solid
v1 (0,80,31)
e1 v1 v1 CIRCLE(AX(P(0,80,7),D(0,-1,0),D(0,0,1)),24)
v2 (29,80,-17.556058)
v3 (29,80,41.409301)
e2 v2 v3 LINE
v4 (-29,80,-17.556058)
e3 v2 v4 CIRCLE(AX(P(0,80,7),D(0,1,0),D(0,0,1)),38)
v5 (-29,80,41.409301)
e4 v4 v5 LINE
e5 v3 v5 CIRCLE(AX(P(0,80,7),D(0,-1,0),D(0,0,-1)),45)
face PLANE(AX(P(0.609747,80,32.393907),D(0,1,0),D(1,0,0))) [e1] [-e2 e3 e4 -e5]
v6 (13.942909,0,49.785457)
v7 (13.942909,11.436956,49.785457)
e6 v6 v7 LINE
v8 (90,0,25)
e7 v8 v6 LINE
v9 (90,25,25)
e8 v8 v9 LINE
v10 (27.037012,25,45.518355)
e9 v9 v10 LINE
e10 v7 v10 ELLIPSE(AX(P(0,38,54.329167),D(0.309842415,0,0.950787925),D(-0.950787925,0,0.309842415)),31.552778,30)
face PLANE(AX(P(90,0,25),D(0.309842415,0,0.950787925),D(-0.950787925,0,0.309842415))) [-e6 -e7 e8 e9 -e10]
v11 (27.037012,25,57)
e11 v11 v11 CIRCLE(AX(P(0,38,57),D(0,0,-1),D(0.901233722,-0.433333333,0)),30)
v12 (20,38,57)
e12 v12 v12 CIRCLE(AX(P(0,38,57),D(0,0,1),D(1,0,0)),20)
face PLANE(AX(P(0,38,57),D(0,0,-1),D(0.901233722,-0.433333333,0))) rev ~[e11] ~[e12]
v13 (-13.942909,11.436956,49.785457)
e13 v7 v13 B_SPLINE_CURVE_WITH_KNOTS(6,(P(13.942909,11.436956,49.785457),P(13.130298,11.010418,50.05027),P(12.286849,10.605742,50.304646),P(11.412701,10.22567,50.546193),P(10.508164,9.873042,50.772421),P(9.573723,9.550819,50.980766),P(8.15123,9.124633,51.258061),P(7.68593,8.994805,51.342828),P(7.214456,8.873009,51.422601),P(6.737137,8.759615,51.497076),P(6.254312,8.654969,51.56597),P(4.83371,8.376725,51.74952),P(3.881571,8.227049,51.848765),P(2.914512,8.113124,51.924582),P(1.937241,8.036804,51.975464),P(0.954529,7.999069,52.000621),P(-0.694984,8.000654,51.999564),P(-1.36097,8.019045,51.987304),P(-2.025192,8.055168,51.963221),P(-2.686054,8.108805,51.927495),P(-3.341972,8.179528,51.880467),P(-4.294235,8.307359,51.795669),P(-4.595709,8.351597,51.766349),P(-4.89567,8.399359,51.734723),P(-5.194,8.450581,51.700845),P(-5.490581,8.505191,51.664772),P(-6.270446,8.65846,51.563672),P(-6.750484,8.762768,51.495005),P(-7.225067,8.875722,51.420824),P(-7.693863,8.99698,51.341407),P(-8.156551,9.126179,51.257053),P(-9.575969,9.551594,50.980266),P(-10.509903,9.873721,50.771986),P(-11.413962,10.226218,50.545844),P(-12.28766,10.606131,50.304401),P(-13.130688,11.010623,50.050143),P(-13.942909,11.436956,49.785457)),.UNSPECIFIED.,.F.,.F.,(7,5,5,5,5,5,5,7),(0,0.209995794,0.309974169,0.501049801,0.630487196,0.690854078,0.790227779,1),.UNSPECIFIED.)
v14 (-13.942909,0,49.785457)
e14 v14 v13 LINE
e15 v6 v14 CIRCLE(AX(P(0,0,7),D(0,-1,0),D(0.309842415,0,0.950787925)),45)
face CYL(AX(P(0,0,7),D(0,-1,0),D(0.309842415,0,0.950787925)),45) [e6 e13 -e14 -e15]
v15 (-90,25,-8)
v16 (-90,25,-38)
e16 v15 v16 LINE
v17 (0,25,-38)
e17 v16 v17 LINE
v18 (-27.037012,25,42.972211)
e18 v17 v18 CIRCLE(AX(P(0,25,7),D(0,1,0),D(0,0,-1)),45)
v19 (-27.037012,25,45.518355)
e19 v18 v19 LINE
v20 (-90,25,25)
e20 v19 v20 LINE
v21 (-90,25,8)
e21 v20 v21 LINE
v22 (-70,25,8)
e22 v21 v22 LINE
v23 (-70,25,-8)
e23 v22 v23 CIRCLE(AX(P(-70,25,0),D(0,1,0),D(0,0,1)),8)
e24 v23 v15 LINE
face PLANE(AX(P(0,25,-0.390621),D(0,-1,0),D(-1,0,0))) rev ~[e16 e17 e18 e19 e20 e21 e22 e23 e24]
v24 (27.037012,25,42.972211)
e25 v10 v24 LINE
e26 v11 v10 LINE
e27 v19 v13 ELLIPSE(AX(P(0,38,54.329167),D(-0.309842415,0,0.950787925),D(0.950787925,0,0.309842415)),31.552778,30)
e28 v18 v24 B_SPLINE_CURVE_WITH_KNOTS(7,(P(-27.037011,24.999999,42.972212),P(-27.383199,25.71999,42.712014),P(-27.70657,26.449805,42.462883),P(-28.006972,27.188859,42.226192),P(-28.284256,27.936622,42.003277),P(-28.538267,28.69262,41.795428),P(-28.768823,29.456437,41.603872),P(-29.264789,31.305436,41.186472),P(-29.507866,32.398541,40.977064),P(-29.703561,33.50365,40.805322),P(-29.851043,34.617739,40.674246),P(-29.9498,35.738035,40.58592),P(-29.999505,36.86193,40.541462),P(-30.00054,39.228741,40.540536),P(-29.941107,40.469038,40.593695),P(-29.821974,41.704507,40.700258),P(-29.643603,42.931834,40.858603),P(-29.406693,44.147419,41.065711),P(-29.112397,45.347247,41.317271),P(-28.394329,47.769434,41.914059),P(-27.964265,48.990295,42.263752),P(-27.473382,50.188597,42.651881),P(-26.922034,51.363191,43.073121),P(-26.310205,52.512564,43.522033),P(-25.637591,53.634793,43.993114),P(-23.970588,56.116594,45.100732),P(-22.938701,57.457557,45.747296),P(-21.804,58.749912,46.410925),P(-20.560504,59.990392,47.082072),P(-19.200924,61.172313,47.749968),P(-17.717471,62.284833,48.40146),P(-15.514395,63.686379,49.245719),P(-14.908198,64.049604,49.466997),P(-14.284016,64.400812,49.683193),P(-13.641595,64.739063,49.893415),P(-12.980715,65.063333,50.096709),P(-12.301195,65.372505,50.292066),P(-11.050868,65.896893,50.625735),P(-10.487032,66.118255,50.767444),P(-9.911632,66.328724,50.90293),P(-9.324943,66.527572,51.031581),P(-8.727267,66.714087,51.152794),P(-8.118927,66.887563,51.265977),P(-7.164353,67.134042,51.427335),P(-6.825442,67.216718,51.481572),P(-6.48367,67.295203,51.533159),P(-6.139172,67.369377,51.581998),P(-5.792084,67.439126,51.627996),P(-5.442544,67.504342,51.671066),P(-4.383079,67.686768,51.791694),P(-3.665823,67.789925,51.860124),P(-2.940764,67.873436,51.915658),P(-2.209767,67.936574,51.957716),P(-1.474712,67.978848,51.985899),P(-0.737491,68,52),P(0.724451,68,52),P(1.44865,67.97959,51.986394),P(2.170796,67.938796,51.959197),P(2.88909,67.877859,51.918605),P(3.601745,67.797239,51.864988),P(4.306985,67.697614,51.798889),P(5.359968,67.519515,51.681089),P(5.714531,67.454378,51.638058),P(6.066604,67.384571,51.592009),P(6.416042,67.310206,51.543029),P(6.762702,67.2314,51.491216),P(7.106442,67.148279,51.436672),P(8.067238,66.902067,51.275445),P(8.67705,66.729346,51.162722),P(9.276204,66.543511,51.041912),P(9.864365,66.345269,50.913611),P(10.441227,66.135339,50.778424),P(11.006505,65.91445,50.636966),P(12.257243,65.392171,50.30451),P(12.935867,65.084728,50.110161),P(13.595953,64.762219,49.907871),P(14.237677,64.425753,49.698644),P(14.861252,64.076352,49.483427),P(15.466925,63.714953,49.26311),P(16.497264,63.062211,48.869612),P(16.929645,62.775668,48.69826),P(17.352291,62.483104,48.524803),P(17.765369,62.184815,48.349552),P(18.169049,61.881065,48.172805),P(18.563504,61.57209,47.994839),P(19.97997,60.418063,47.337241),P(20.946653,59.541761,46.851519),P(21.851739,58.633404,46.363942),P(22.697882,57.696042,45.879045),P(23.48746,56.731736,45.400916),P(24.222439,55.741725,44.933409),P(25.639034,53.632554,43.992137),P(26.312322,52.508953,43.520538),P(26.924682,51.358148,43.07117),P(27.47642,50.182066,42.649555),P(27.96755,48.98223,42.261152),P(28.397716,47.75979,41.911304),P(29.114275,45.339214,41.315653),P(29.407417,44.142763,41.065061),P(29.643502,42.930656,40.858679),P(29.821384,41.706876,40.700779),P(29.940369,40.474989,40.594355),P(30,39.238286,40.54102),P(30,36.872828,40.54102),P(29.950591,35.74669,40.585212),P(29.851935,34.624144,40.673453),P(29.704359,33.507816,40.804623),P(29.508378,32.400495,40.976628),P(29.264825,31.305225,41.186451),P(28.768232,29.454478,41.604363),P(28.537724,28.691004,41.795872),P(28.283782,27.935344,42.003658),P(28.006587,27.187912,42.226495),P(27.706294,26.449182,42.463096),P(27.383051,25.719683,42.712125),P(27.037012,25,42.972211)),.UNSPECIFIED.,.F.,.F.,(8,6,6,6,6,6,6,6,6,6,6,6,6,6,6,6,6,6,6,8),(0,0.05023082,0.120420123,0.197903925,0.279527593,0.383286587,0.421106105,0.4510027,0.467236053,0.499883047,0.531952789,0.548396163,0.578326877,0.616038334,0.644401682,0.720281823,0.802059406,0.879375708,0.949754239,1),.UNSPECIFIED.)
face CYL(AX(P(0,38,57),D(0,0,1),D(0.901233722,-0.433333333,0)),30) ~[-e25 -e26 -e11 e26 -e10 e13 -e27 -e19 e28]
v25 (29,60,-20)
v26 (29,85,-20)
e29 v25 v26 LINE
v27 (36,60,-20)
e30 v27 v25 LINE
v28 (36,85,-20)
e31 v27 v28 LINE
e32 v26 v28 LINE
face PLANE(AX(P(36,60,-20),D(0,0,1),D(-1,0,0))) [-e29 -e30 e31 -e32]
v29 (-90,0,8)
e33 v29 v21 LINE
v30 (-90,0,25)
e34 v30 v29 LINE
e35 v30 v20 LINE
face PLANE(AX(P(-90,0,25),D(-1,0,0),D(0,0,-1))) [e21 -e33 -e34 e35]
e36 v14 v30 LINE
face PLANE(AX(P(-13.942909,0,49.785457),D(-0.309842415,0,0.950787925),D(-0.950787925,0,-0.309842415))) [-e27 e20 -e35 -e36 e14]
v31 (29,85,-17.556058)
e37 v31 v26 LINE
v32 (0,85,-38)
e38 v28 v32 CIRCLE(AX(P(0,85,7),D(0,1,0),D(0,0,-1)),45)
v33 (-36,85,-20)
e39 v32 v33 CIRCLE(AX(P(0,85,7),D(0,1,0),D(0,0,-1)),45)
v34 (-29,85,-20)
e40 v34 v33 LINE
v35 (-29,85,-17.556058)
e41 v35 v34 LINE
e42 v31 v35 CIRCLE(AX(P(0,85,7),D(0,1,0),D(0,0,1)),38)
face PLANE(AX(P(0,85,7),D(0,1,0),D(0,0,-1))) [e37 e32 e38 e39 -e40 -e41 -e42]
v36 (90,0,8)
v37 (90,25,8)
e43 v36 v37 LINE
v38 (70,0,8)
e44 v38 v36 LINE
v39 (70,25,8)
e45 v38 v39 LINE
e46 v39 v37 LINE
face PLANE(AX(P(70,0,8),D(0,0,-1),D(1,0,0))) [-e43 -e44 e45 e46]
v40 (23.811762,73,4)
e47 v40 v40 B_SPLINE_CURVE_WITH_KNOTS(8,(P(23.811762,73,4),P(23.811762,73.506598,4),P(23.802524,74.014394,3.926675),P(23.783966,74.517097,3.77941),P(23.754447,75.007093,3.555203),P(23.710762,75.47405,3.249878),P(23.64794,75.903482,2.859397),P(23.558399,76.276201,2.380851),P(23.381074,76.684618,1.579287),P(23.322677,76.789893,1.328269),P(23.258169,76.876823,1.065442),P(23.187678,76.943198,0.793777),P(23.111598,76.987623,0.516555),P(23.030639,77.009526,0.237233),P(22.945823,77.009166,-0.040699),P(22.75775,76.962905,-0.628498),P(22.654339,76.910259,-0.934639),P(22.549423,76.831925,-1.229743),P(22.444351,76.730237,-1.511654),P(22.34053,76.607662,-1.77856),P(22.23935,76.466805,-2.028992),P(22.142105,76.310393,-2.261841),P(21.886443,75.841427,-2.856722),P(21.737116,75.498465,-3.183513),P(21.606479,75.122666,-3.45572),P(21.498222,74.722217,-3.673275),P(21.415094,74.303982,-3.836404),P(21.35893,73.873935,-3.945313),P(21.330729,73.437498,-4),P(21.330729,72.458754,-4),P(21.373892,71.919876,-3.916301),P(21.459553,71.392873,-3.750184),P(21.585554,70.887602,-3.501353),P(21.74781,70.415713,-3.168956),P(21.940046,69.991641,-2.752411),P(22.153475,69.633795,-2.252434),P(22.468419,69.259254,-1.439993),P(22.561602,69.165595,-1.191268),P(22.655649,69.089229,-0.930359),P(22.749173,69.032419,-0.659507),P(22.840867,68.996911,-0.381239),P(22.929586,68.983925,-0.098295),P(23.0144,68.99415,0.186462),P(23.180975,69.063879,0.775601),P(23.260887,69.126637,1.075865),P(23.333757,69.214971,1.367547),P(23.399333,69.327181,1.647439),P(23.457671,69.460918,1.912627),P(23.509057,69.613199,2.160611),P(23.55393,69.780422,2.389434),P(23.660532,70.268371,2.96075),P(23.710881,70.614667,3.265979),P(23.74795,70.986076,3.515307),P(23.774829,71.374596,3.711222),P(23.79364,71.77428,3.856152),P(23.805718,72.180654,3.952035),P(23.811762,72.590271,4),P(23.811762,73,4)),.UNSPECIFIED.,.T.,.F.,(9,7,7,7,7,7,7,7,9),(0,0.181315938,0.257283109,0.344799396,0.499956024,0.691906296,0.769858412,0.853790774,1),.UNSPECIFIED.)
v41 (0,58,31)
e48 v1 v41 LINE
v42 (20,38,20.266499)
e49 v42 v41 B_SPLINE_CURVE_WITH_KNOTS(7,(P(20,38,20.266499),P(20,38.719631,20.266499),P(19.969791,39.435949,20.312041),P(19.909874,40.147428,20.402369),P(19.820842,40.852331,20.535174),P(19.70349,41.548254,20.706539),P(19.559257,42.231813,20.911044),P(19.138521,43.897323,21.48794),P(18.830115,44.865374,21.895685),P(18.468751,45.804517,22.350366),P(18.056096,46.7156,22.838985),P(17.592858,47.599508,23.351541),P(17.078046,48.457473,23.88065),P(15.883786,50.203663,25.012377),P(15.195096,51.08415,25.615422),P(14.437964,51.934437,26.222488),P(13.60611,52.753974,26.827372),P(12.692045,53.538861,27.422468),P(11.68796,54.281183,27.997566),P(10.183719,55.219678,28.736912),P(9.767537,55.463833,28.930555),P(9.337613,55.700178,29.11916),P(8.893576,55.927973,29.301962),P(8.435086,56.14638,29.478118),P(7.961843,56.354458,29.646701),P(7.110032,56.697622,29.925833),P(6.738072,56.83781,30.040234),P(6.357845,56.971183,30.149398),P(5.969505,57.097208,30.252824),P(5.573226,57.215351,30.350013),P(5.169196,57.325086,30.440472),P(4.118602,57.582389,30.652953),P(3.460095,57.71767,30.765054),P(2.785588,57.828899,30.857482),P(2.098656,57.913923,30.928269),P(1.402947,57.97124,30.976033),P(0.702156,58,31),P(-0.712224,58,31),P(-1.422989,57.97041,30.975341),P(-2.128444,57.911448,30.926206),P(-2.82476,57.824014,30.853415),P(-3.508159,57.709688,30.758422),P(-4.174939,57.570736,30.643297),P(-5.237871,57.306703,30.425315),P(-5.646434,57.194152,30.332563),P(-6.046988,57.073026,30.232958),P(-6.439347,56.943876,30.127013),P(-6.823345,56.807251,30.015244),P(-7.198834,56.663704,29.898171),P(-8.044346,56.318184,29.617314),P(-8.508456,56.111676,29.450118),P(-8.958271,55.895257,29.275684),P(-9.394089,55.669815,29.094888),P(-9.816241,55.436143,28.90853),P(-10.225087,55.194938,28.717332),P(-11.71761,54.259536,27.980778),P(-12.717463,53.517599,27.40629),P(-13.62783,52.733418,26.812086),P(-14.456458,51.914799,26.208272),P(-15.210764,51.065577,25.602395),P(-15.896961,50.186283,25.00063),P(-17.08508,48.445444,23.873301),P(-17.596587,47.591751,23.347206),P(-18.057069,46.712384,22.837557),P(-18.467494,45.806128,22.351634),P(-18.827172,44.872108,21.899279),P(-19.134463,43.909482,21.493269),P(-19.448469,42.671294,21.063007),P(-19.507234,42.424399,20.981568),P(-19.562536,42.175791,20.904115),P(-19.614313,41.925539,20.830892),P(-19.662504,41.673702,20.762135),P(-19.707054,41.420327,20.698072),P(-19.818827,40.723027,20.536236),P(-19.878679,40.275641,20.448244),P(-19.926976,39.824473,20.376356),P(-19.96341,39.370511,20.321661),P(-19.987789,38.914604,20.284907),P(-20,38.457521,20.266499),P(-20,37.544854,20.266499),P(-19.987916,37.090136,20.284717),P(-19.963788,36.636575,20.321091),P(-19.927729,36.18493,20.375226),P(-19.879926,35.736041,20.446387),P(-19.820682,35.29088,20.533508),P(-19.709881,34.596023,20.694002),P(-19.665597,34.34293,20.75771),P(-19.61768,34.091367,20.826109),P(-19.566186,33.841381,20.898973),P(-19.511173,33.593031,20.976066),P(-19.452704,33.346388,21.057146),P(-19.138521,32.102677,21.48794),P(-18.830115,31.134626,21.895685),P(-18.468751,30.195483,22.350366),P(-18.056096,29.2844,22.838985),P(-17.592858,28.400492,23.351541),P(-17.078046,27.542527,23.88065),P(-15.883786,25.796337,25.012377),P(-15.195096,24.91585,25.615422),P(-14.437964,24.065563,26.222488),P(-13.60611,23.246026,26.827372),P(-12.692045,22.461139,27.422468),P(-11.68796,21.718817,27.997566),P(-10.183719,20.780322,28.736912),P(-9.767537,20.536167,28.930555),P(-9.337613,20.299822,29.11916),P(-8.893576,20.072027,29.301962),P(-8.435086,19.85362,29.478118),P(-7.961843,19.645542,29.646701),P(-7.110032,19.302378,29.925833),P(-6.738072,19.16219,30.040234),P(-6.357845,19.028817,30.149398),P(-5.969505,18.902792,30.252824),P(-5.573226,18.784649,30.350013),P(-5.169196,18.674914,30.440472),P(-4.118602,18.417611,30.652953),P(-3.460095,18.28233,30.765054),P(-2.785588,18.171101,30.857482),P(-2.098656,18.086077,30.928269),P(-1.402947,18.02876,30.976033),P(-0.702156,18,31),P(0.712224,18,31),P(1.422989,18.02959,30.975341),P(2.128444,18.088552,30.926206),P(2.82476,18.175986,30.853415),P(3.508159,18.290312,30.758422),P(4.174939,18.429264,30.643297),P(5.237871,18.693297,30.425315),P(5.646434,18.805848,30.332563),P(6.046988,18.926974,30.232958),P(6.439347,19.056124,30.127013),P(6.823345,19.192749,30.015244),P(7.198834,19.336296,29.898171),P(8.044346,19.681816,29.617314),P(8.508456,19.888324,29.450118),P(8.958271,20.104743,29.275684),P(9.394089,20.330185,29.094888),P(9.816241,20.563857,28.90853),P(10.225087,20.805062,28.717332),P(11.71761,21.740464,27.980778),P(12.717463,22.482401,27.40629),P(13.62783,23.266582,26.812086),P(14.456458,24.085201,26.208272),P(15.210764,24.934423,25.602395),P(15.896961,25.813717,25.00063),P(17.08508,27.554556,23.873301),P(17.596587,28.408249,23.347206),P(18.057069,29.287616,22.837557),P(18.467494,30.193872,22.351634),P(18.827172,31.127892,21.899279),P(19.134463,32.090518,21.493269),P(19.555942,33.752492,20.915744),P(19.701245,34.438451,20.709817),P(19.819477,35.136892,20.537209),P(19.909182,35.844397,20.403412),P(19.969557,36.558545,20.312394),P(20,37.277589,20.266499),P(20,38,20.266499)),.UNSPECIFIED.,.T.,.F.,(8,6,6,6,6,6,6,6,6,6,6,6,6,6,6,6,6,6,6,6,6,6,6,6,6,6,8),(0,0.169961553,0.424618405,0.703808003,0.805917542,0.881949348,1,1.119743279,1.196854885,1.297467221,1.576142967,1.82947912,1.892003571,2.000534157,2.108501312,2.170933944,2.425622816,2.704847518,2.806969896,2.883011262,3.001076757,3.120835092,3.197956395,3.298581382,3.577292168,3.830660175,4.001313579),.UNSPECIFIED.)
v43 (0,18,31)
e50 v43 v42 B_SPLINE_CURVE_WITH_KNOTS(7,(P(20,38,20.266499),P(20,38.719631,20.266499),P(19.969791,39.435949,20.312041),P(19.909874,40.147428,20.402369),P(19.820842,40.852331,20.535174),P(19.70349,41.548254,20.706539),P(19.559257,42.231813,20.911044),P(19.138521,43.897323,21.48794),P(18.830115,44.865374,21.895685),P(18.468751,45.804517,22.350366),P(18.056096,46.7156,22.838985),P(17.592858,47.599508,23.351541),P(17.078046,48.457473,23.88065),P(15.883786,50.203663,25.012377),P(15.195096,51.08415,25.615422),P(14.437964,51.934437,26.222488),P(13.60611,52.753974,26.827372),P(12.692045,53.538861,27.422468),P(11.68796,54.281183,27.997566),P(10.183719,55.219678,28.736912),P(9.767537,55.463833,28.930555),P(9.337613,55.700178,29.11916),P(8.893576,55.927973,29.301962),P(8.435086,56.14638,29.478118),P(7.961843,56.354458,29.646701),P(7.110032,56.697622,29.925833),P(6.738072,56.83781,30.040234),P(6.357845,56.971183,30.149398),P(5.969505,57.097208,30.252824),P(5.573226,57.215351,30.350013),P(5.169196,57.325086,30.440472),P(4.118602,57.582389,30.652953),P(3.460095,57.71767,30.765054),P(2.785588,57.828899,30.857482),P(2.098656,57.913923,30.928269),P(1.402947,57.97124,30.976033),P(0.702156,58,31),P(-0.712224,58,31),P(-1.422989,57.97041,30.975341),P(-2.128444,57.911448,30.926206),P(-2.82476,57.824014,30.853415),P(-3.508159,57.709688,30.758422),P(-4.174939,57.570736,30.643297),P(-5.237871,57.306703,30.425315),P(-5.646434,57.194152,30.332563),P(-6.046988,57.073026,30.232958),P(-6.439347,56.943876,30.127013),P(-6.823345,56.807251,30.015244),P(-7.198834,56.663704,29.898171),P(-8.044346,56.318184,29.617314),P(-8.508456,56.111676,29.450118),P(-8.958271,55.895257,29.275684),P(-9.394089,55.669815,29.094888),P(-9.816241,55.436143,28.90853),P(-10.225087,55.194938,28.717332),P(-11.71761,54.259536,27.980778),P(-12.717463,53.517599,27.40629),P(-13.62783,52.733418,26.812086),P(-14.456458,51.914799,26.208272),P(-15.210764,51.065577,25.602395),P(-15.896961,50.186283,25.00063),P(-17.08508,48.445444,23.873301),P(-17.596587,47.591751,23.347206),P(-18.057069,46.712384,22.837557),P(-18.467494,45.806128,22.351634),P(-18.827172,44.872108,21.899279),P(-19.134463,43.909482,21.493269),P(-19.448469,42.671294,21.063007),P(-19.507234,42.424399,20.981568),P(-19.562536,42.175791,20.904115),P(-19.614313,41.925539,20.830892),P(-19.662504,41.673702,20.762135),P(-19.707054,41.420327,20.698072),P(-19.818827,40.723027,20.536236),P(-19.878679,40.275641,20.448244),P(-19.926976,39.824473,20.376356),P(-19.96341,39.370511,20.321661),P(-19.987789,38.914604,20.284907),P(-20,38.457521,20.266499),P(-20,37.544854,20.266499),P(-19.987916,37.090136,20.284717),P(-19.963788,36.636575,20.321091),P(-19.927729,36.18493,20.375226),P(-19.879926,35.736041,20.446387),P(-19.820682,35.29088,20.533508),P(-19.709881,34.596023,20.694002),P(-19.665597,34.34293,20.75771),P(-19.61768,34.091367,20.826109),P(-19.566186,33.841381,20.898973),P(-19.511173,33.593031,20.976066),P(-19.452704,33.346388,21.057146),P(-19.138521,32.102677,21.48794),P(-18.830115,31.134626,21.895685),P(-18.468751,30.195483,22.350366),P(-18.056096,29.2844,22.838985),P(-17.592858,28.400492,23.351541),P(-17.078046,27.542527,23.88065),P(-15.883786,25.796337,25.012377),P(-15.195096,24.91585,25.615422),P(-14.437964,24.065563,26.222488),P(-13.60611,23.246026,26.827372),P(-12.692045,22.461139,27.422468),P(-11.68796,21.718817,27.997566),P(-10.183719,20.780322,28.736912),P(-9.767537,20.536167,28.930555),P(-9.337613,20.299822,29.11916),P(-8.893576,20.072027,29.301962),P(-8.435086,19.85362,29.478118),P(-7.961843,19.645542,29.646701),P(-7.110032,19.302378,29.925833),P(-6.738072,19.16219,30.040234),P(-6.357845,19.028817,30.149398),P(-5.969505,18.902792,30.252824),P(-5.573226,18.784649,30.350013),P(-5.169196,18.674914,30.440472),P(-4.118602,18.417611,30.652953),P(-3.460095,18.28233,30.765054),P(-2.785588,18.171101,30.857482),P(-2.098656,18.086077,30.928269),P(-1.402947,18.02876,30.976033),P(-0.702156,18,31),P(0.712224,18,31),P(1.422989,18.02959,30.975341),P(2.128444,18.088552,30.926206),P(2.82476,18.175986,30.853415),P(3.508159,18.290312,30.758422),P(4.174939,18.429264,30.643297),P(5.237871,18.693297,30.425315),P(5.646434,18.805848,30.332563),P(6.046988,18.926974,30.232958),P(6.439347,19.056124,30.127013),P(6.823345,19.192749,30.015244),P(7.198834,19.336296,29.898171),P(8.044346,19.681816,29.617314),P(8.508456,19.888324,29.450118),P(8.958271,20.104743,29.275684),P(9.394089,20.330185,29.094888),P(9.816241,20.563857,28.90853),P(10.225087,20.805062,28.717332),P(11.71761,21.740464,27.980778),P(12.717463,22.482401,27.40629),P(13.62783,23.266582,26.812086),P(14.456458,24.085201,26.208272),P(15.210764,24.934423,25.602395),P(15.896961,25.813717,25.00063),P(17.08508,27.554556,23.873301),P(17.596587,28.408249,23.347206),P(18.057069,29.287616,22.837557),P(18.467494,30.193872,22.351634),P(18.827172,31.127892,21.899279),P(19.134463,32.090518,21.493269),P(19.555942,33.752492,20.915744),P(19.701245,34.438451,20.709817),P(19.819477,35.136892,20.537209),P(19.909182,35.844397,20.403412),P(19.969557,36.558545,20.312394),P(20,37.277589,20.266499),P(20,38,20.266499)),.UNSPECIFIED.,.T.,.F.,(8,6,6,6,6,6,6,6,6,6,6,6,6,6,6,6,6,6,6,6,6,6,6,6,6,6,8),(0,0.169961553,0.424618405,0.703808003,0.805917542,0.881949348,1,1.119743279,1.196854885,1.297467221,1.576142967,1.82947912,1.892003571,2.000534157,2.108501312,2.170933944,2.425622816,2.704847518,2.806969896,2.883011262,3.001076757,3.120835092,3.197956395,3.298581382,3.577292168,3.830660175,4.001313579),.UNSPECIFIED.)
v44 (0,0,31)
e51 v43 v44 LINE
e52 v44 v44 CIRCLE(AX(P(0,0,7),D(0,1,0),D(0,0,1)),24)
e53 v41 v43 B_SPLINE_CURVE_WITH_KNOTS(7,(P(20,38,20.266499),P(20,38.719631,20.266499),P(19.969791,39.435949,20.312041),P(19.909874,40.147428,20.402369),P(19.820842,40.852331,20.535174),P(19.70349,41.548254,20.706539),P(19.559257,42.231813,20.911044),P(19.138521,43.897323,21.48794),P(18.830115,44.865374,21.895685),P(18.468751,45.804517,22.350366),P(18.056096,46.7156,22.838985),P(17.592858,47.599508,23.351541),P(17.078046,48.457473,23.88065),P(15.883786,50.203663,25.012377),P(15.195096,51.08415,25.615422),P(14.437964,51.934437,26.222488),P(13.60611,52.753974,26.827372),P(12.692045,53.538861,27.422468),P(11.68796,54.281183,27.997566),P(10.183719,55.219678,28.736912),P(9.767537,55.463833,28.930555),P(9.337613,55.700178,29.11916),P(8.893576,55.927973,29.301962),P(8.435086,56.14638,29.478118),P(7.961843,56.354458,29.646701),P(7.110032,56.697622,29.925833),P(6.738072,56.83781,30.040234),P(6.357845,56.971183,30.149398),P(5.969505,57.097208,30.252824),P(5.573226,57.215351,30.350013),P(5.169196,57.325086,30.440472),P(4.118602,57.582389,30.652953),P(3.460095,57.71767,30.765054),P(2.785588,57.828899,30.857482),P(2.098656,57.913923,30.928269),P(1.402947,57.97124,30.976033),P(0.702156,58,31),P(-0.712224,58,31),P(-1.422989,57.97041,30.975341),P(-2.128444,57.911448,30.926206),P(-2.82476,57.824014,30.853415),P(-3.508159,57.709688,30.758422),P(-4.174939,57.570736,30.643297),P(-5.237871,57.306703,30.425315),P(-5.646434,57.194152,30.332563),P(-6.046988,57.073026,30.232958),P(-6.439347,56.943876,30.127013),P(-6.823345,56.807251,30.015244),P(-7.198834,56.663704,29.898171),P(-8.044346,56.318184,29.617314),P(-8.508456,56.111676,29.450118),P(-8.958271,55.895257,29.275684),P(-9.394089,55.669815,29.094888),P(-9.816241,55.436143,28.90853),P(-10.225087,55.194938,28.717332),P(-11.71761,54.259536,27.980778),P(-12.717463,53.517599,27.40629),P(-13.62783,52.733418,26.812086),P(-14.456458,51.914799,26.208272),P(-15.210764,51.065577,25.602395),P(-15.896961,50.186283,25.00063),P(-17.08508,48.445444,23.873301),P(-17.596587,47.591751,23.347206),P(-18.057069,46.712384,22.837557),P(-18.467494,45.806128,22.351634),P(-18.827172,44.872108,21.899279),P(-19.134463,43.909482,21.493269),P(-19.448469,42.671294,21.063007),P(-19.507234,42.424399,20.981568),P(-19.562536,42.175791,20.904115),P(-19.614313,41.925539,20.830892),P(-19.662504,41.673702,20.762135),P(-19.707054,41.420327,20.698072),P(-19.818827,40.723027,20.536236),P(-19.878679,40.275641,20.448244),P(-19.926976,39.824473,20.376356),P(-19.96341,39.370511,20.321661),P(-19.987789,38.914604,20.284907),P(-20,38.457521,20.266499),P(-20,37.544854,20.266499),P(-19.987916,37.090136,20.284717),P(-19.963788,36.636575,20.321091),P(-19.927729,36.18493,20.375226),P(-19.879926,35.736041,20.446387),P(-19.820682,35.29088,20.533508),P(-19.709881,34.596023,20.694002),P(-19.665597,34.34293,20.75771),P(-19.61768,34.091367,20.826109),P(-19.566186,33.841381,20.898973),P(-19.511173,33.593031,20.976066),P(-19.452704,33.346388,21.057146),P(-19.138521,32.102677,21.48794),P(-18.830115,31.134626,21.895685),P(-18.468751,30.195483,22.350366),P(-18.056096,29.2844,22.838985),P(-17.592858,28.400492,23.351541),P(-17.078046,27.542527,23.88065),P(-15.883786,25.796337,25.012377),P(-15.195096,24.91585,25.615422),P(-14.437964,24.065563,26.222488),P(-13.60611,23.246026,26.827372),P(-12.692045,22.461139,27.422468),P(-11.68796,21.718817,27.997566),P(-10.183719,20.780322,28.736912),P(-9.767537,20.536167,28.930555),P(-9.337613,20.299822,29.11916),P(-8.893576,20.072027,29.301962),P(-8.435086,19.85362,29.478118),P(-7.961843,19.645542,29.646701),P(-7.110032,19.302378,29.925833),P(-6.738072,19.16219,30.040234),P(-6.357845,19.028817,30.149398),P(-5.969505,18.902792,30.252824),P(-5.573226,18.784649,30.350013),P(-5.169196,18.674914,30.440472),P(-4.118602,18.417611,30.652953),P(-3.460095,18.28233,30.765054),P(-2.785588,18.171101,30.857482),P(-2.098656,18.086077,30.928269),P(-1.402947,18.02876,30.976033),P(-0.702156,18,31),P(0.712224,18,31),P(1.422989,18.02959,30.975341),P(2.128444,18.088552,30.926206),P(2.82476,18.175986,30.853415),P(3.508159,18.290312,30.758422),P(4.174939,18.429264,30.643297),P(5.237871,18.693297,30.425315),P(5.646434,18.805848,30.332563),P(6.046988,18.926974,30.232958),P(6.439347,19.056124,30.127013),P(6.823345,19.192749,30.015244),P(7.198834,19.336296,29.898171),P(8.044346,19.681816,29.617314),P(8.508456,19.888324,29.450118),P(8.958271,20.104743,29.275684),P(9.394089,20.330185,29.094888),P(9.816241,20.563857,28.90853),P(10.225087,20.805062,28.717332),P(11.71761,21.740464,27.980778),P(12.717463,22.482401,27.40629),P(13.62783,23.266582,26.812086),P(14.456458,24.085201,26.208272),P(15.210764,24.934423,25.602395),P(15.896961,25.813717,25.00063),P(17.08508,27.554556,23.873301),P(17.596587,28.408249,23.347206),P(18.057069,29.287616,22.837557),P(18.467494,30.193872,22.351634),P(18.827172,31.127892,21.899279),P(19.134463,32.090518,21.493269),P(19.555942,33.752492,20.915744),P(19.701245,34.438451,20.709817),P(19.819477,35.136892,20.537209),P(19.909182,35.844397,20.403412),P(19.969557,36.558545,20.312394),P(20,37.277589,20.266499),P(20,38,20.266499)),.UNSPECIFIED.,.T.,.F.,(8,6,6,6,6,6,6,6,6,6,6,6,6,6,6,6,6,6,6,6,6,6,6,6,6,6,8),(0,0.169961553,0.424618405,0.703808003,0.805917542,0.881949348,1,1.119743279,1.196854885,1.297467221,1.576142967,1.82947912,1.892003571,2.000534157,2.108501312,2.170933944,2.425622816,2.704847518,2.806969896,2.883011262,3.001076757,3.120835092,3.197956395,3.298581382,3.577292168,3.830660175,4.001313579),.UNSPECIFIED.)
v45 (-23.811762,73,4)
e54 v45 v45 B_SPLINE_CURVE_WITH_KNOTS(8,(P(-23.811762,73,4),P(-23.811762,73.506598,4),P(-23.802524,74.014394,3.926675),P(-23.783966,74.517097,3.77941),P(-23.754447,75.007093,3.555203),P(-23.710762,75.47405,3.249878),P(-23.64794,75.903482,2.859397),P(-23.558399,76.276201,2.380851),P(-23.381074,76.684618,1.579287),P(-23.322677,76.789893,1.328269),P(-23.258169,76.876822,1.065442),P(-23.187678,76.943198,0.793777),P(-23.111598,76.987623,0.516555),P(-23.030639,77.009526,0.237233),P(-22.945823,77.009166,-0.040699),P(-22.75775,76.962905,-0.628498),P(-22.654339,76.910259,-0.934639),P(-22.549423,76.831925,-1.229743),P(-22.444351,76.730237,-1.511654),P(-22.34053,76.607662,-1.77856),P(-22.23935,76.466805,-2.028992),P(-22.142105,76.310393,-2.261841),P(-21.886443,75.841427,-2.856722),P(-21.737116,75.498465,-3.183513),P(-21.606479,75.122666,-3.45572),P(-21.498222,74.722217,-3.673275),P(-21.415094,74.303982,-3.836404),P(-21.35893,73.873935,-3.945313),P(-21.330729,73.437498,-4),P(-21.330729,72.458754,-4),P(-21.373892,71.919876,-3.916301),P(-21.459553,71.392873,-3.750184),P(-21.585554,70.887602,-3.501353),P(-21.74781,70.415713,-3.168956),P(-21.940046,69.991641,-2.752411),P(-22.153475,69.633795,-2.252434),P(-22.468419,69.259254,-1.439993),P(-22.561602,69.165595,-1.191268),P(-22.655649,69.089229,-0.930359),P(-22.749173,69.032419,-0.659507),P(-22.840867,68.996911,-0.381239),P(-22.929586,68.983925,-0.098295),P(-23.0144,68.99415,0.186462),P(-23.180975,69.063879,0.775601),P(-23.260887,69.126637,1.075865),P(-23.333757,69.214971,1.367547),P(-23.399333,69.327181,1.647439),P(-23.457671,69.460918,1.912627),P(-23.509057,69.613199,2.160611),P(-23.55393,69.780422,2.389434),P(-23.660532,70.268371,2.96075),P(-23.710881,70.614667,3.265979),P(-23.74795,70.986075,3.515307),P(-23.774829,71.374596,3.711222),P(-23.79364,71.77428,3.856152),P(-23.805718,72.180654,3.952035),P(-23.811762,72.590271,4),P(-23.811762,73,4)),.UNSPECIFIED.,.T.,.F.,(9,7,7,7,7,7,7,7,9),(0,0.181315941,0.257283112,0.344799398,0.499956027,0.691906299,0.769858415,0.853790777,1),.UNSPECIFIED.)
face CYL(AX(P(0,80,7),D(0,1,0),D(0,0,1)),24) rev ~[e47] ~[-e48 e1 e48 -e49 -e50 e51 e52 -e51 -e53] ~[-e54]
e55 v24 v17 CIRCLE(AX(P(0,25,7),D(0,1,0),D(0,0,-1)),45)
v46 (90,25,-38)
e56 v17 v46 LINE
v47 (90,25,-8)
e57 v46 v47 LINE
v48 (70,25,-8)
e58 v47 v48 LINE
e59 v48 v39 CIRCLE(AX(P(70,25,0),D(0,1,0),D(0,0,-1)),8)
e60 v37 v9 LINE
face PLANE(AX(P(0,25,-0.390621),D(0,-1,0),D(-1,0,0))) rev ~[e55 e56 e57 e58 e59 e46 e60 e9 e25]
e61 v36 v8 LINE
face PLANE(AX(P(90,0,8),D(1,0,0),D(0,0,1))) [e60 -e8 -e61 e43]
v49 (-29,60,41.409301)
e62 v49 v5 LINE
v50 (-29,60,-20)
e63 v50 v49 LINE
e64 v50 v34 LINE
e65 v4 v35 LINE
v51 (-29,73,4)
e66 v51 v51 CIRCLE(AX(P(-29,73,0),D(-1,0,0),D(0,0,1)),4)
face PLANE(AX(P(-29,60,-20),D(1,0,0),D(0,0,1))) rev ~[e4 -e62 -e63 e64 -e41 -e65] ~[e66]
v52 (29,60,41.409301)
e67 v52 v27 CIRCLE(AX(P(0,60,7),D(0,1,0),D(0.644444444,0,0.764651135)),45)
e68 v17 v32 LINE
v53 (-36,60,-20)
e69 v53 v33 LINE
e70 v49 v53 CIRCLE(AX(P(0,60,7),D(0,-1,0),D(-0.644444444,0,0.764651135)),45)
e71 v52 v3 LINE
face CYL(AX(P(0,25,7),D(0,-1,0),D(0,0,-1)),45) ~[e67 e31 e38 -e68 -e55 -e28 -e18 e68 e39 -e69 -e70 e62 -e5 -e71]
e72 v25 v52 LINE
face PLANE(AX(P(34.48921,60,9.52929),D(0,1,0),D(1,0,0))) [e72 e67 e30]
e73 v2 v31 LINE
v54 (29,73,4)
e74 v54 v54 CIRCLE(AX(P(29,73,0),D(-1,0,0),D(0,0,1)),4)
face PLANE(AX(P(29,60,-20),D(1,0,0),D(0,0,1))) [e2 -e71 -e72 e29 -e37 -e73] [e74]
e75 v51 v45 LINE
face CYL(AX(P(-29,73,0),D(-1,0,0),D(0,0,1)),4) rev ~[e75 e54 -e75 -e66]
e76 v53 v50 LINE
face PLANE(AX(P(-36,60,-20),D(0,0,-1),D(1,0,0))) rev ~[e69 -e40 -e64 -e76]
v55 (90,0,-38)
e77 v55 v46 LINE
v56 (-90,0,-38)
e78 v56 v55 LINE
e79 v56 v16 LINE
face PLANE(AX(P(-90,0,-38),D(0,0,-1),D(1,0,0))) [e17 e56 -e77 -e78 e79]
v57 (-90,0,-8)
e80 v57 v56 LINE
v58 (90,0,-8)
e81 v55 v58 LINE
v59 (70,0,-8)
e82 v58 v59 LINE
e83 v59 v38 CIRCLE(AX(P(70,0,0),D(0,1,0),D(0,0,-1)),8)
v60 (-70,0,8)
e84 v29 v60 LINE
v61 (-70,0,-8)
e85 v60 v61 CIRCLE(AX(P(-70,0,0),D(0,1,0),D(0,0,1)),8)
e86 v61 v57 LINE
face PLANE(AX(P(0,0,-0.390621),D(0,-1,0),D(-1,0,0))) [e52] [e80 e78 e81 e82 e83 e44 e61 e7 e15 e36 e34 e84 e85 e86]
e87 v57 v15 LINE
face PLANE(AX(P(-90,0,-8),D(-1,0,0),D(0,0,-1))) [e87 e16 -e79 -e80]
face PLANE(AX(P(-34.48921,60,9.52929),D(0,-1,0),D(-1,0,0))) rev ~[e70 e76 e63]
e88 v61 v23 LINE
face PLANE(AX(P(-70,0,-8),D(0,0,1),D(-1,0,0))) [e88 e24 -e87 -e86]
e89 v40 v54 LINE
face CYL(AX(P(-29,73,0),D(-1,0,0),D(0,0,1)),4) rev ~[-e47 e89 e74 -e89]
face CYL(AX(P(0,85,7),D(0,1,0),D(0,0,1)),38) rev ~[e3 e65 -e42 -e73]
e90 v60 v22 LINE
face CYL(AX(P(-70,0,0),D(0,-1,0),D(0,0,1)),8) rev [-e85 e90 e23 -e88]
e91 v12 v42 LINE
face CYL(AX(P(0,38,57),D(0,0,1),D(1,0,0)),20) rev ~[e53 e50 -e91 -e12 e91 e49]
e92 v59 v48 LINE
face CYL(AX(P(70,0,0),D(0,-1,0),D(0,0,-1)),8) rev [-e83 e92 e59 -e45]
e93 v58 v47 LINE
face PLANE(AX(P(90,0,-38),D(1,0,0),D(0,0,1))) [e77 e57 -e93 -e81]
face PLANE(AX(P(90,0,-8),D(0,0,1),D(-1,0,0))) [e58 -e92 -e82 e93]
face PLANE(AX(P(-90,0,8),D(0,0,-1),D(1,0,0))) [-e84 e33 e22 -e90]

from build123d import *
from build123d.topology import SkipClean

# Parameters (mm, degrees)
EXTRUDE_1_DEPTH          = 25
SKETCH_2_R               = 45
EXTRUDE_2_DEPTH          = 60
SKETCH_3_R               = 38
CUT_EXTRUDE_1_DEPTH      = 5
SKETCH_4_R               = 24
CUT_EXTRUDE_2_DEPTH      = 132.164019457
CUT_EXTRUDE_3_DEPTH      = 121.016665509
SKETCH_7_W               = 96.437930536
SKETCH_7_H               = 64.787813211
CUT_EXTRUDE_4_DEPTH      = 132.164019457
SKETCH_8_R               = 4
CUT_EXTRUDE_5_DEPTH      = 156.20953579
EXTRUDE_3_REACH          = 158.045
SKETCH_9_R               = 30
CUT_EXTRUDE_6_REACH      = 158.045
CUT_EXTRUDE_6_END_RADIUS = 24
SKETCH_10_R              = 20


with BuildPart() as part:
    # 草图1 → 凸台-拉伸1 (new body)
    with BuildSketch(Plane(origin=(0, 0, 0), x_dir=(1, 0, 0), z_dir=(0, 1, 0))):
        with BuildLine():
            Line((-90, 38), (90, 38))
            Line((90, 38), (90, 8))
            Line((90, 8), (70, 8))
            ThreePointArc((70, 8), (62, 0), (70, -8))
            Line((70, -8), (90, -8))
            Line((90, -8), (90, -25))
            Line((90, -25), (13.942908677, -49.785456613))
            ThreePointArc((13.942908677, -49.785456613), (0, -52), (-13.942908677, -49.785456613))
            Line((-13.942908677, -49.785456613), (-90, -25))
            Line((-90, -25), (-90, -8))
            Line((-90, -8), (-70, -8))
            ThreePointArc((-70, -8), (-62, 0), (-70, 8))
            Line((-70, 8), (-90, 8))
            Line((-90, 8), (-90, 38))
        make_face()
    extrude(amount=EXTRUDE_1_DEPTH)

    # 草图2 → 凸台-拉伸2 (add)
    with SkipClean():  # the faces are left unmerged after this step: merging them gives an invalid solid
        with BuildSketch(Plane(origin=(0, 25, 0), x_dir=(1, 0, 0), z_dir=(0, 1, 0))):
            with Locations(Location((0, -7, 0), (0, 0, 90))):
                Circle(SKETCH_2_R)
        extrude(amount=EXTRUDE_2_DEPTH)

    # 草图3 → 切除-拉伸1 (cut)
    with SkipClean():  # the faces are left unmerged after this step: merging them gives an invalid solid
        with BuildSketch(Plane(origin=(0, 85, 0), x_dir=(1, 0, 0), z_dir=(0, 1, 0))):
            with Locations(Location((0, -7, 0), (0, 0, 270))):
                Circle(SKETCH_3_R)
        extrude(amount=-CUT_EXTRUDE_1_DEPTH, mode=Mode.SUBTRACT)

    # 草图4 → 切除-拉伸2 (cut, through all)
    with SkipClean():  # the faces are left unmerged after this step: merging them gives an invalid solid
        with BuildSketch(Plane(origin=(0, 80, 0), x_dir=(1, 0, 0), z_dir=(0, 1, 0))):
            with Locations(Location((0, -7, 0), (0, 0, 270))):
                Circle(SKETCH_4_R)
        extrude(amount=-CUT_EXTRUDE_2_DEPTH, mode=Mode.SUBTRACT)

    # 草图5 → 切除-拉伸3 (cut, through all)
    with SkipClean():  # the faces are left unmerged after this step: merging them gives an invalid solid
        with BuildSketch(Plane(origin=(0, 60, 0), x_dir=(1, 0, 0), z_dir=(0, 1, 0))):
            with BuildLine():
                Line((-29, 20), (-29, -41.409301068))
                ThreePointArc((-29, -41.409301068), (-44.710463702, -12.096512099), (-36, 20))
                Line((-36, 20), (-29, 20))
            make_face()
            with BuildLine():
                Line((29, 20), (29, -41.409301068))
                ThreePointArc((29, -41.409301068), (44.710463702, -12.096512099), (36, 20))
                Line((36, 20), (29, 20))
            make_face()
        extrude(amount=CUT_EXTRUDE_3_DEPTH, mode=Mode.SUBTRACT)

    # 草图7 → 切除-拉伸4 (cut, through all)
    with SkipClean():  # the faces are left unmerged after this step: merging them gives an invalid solid
        with BuildSketch(Plane(origin=(0, 80, 0), x_dir=(1, 0, 0), z_dir=(0, 1, 0))):
            with Locations((0.609746756, -32.393906605)):
                Rectangle(SKETCH_7_W, SKETCH_7_H)
        extrude(amount=CUT_EXTRUDE_4_DEPTH, mode=Mode.SUBTRACT)

    # 草图8 → 切除-拉伸5 (cut, through all)
    with SkipClean():  # the faces are left unmerged after this step: merging them gives an invalid solid
        with BuildSketch(Plane.ZY.offset(29)):
            with Locations((0, 73)):
                Circle(SKETCH_8_R)
        extrude(amount=-CUT_EXTRUDE_5_DEPTH, mode=Mode.SUBTRACT)

    # 草图9 → 凸台-拉伸3 (add, up to next)
    with BuildSketch(Plane(origin=(0, 0, 57), x_dir=(-1, 0, 0), z_dir=(0, 0, -1)), mode=Mode.PRIVATE) as extrude_3_sk1:
        with Locations(Location((0, 38, 0), (0, 0, 205.679288619))):
            Circle(SKETCH_9_R)
    extrude_3_tool1 = extrude(extrude_3_sk1.sketch, amount=EXTRUDE_3_REACH, mode=Mode.PRIVATE) - part.part
    add(extrude_3_tool1.solids().sort_by_distance((0, 38, 57))[0])

    # 切除-拉伸6: up to this cylinder (the profile starts outside it)
    cut_extrude_6_end = Plane(origin=(0, 38, 7), z_dir=(0, 1, 0)) * Cylinder(CUT_EXTRUDE_6_END_RADIUS, 365.09, mode=Mode.PRIVATE)
    # 草图10 → 切除-拉伸6 (cut, up to the surface)
    with BuildSketch(Plane.XY.offset(57), mode=Mode.PRIVATE) as cut_extrude_6_sk1:
        with Locations((0, 38)):
            Circle(SKETCH_10_R)
    cut_extrude_6_tool1 = extrude(cut_extrude_6_sk1.sketch, amount=-CUT_EXTRUDE_6_REACH, mode=Mode.PRIVATE) - cut_extrude_6_end
    add(cut_extrude_6_tool1.solids().sort_by_distance((0, 38, 57))[0], mode=Mode.SUBTRACT)


solid = part.part
